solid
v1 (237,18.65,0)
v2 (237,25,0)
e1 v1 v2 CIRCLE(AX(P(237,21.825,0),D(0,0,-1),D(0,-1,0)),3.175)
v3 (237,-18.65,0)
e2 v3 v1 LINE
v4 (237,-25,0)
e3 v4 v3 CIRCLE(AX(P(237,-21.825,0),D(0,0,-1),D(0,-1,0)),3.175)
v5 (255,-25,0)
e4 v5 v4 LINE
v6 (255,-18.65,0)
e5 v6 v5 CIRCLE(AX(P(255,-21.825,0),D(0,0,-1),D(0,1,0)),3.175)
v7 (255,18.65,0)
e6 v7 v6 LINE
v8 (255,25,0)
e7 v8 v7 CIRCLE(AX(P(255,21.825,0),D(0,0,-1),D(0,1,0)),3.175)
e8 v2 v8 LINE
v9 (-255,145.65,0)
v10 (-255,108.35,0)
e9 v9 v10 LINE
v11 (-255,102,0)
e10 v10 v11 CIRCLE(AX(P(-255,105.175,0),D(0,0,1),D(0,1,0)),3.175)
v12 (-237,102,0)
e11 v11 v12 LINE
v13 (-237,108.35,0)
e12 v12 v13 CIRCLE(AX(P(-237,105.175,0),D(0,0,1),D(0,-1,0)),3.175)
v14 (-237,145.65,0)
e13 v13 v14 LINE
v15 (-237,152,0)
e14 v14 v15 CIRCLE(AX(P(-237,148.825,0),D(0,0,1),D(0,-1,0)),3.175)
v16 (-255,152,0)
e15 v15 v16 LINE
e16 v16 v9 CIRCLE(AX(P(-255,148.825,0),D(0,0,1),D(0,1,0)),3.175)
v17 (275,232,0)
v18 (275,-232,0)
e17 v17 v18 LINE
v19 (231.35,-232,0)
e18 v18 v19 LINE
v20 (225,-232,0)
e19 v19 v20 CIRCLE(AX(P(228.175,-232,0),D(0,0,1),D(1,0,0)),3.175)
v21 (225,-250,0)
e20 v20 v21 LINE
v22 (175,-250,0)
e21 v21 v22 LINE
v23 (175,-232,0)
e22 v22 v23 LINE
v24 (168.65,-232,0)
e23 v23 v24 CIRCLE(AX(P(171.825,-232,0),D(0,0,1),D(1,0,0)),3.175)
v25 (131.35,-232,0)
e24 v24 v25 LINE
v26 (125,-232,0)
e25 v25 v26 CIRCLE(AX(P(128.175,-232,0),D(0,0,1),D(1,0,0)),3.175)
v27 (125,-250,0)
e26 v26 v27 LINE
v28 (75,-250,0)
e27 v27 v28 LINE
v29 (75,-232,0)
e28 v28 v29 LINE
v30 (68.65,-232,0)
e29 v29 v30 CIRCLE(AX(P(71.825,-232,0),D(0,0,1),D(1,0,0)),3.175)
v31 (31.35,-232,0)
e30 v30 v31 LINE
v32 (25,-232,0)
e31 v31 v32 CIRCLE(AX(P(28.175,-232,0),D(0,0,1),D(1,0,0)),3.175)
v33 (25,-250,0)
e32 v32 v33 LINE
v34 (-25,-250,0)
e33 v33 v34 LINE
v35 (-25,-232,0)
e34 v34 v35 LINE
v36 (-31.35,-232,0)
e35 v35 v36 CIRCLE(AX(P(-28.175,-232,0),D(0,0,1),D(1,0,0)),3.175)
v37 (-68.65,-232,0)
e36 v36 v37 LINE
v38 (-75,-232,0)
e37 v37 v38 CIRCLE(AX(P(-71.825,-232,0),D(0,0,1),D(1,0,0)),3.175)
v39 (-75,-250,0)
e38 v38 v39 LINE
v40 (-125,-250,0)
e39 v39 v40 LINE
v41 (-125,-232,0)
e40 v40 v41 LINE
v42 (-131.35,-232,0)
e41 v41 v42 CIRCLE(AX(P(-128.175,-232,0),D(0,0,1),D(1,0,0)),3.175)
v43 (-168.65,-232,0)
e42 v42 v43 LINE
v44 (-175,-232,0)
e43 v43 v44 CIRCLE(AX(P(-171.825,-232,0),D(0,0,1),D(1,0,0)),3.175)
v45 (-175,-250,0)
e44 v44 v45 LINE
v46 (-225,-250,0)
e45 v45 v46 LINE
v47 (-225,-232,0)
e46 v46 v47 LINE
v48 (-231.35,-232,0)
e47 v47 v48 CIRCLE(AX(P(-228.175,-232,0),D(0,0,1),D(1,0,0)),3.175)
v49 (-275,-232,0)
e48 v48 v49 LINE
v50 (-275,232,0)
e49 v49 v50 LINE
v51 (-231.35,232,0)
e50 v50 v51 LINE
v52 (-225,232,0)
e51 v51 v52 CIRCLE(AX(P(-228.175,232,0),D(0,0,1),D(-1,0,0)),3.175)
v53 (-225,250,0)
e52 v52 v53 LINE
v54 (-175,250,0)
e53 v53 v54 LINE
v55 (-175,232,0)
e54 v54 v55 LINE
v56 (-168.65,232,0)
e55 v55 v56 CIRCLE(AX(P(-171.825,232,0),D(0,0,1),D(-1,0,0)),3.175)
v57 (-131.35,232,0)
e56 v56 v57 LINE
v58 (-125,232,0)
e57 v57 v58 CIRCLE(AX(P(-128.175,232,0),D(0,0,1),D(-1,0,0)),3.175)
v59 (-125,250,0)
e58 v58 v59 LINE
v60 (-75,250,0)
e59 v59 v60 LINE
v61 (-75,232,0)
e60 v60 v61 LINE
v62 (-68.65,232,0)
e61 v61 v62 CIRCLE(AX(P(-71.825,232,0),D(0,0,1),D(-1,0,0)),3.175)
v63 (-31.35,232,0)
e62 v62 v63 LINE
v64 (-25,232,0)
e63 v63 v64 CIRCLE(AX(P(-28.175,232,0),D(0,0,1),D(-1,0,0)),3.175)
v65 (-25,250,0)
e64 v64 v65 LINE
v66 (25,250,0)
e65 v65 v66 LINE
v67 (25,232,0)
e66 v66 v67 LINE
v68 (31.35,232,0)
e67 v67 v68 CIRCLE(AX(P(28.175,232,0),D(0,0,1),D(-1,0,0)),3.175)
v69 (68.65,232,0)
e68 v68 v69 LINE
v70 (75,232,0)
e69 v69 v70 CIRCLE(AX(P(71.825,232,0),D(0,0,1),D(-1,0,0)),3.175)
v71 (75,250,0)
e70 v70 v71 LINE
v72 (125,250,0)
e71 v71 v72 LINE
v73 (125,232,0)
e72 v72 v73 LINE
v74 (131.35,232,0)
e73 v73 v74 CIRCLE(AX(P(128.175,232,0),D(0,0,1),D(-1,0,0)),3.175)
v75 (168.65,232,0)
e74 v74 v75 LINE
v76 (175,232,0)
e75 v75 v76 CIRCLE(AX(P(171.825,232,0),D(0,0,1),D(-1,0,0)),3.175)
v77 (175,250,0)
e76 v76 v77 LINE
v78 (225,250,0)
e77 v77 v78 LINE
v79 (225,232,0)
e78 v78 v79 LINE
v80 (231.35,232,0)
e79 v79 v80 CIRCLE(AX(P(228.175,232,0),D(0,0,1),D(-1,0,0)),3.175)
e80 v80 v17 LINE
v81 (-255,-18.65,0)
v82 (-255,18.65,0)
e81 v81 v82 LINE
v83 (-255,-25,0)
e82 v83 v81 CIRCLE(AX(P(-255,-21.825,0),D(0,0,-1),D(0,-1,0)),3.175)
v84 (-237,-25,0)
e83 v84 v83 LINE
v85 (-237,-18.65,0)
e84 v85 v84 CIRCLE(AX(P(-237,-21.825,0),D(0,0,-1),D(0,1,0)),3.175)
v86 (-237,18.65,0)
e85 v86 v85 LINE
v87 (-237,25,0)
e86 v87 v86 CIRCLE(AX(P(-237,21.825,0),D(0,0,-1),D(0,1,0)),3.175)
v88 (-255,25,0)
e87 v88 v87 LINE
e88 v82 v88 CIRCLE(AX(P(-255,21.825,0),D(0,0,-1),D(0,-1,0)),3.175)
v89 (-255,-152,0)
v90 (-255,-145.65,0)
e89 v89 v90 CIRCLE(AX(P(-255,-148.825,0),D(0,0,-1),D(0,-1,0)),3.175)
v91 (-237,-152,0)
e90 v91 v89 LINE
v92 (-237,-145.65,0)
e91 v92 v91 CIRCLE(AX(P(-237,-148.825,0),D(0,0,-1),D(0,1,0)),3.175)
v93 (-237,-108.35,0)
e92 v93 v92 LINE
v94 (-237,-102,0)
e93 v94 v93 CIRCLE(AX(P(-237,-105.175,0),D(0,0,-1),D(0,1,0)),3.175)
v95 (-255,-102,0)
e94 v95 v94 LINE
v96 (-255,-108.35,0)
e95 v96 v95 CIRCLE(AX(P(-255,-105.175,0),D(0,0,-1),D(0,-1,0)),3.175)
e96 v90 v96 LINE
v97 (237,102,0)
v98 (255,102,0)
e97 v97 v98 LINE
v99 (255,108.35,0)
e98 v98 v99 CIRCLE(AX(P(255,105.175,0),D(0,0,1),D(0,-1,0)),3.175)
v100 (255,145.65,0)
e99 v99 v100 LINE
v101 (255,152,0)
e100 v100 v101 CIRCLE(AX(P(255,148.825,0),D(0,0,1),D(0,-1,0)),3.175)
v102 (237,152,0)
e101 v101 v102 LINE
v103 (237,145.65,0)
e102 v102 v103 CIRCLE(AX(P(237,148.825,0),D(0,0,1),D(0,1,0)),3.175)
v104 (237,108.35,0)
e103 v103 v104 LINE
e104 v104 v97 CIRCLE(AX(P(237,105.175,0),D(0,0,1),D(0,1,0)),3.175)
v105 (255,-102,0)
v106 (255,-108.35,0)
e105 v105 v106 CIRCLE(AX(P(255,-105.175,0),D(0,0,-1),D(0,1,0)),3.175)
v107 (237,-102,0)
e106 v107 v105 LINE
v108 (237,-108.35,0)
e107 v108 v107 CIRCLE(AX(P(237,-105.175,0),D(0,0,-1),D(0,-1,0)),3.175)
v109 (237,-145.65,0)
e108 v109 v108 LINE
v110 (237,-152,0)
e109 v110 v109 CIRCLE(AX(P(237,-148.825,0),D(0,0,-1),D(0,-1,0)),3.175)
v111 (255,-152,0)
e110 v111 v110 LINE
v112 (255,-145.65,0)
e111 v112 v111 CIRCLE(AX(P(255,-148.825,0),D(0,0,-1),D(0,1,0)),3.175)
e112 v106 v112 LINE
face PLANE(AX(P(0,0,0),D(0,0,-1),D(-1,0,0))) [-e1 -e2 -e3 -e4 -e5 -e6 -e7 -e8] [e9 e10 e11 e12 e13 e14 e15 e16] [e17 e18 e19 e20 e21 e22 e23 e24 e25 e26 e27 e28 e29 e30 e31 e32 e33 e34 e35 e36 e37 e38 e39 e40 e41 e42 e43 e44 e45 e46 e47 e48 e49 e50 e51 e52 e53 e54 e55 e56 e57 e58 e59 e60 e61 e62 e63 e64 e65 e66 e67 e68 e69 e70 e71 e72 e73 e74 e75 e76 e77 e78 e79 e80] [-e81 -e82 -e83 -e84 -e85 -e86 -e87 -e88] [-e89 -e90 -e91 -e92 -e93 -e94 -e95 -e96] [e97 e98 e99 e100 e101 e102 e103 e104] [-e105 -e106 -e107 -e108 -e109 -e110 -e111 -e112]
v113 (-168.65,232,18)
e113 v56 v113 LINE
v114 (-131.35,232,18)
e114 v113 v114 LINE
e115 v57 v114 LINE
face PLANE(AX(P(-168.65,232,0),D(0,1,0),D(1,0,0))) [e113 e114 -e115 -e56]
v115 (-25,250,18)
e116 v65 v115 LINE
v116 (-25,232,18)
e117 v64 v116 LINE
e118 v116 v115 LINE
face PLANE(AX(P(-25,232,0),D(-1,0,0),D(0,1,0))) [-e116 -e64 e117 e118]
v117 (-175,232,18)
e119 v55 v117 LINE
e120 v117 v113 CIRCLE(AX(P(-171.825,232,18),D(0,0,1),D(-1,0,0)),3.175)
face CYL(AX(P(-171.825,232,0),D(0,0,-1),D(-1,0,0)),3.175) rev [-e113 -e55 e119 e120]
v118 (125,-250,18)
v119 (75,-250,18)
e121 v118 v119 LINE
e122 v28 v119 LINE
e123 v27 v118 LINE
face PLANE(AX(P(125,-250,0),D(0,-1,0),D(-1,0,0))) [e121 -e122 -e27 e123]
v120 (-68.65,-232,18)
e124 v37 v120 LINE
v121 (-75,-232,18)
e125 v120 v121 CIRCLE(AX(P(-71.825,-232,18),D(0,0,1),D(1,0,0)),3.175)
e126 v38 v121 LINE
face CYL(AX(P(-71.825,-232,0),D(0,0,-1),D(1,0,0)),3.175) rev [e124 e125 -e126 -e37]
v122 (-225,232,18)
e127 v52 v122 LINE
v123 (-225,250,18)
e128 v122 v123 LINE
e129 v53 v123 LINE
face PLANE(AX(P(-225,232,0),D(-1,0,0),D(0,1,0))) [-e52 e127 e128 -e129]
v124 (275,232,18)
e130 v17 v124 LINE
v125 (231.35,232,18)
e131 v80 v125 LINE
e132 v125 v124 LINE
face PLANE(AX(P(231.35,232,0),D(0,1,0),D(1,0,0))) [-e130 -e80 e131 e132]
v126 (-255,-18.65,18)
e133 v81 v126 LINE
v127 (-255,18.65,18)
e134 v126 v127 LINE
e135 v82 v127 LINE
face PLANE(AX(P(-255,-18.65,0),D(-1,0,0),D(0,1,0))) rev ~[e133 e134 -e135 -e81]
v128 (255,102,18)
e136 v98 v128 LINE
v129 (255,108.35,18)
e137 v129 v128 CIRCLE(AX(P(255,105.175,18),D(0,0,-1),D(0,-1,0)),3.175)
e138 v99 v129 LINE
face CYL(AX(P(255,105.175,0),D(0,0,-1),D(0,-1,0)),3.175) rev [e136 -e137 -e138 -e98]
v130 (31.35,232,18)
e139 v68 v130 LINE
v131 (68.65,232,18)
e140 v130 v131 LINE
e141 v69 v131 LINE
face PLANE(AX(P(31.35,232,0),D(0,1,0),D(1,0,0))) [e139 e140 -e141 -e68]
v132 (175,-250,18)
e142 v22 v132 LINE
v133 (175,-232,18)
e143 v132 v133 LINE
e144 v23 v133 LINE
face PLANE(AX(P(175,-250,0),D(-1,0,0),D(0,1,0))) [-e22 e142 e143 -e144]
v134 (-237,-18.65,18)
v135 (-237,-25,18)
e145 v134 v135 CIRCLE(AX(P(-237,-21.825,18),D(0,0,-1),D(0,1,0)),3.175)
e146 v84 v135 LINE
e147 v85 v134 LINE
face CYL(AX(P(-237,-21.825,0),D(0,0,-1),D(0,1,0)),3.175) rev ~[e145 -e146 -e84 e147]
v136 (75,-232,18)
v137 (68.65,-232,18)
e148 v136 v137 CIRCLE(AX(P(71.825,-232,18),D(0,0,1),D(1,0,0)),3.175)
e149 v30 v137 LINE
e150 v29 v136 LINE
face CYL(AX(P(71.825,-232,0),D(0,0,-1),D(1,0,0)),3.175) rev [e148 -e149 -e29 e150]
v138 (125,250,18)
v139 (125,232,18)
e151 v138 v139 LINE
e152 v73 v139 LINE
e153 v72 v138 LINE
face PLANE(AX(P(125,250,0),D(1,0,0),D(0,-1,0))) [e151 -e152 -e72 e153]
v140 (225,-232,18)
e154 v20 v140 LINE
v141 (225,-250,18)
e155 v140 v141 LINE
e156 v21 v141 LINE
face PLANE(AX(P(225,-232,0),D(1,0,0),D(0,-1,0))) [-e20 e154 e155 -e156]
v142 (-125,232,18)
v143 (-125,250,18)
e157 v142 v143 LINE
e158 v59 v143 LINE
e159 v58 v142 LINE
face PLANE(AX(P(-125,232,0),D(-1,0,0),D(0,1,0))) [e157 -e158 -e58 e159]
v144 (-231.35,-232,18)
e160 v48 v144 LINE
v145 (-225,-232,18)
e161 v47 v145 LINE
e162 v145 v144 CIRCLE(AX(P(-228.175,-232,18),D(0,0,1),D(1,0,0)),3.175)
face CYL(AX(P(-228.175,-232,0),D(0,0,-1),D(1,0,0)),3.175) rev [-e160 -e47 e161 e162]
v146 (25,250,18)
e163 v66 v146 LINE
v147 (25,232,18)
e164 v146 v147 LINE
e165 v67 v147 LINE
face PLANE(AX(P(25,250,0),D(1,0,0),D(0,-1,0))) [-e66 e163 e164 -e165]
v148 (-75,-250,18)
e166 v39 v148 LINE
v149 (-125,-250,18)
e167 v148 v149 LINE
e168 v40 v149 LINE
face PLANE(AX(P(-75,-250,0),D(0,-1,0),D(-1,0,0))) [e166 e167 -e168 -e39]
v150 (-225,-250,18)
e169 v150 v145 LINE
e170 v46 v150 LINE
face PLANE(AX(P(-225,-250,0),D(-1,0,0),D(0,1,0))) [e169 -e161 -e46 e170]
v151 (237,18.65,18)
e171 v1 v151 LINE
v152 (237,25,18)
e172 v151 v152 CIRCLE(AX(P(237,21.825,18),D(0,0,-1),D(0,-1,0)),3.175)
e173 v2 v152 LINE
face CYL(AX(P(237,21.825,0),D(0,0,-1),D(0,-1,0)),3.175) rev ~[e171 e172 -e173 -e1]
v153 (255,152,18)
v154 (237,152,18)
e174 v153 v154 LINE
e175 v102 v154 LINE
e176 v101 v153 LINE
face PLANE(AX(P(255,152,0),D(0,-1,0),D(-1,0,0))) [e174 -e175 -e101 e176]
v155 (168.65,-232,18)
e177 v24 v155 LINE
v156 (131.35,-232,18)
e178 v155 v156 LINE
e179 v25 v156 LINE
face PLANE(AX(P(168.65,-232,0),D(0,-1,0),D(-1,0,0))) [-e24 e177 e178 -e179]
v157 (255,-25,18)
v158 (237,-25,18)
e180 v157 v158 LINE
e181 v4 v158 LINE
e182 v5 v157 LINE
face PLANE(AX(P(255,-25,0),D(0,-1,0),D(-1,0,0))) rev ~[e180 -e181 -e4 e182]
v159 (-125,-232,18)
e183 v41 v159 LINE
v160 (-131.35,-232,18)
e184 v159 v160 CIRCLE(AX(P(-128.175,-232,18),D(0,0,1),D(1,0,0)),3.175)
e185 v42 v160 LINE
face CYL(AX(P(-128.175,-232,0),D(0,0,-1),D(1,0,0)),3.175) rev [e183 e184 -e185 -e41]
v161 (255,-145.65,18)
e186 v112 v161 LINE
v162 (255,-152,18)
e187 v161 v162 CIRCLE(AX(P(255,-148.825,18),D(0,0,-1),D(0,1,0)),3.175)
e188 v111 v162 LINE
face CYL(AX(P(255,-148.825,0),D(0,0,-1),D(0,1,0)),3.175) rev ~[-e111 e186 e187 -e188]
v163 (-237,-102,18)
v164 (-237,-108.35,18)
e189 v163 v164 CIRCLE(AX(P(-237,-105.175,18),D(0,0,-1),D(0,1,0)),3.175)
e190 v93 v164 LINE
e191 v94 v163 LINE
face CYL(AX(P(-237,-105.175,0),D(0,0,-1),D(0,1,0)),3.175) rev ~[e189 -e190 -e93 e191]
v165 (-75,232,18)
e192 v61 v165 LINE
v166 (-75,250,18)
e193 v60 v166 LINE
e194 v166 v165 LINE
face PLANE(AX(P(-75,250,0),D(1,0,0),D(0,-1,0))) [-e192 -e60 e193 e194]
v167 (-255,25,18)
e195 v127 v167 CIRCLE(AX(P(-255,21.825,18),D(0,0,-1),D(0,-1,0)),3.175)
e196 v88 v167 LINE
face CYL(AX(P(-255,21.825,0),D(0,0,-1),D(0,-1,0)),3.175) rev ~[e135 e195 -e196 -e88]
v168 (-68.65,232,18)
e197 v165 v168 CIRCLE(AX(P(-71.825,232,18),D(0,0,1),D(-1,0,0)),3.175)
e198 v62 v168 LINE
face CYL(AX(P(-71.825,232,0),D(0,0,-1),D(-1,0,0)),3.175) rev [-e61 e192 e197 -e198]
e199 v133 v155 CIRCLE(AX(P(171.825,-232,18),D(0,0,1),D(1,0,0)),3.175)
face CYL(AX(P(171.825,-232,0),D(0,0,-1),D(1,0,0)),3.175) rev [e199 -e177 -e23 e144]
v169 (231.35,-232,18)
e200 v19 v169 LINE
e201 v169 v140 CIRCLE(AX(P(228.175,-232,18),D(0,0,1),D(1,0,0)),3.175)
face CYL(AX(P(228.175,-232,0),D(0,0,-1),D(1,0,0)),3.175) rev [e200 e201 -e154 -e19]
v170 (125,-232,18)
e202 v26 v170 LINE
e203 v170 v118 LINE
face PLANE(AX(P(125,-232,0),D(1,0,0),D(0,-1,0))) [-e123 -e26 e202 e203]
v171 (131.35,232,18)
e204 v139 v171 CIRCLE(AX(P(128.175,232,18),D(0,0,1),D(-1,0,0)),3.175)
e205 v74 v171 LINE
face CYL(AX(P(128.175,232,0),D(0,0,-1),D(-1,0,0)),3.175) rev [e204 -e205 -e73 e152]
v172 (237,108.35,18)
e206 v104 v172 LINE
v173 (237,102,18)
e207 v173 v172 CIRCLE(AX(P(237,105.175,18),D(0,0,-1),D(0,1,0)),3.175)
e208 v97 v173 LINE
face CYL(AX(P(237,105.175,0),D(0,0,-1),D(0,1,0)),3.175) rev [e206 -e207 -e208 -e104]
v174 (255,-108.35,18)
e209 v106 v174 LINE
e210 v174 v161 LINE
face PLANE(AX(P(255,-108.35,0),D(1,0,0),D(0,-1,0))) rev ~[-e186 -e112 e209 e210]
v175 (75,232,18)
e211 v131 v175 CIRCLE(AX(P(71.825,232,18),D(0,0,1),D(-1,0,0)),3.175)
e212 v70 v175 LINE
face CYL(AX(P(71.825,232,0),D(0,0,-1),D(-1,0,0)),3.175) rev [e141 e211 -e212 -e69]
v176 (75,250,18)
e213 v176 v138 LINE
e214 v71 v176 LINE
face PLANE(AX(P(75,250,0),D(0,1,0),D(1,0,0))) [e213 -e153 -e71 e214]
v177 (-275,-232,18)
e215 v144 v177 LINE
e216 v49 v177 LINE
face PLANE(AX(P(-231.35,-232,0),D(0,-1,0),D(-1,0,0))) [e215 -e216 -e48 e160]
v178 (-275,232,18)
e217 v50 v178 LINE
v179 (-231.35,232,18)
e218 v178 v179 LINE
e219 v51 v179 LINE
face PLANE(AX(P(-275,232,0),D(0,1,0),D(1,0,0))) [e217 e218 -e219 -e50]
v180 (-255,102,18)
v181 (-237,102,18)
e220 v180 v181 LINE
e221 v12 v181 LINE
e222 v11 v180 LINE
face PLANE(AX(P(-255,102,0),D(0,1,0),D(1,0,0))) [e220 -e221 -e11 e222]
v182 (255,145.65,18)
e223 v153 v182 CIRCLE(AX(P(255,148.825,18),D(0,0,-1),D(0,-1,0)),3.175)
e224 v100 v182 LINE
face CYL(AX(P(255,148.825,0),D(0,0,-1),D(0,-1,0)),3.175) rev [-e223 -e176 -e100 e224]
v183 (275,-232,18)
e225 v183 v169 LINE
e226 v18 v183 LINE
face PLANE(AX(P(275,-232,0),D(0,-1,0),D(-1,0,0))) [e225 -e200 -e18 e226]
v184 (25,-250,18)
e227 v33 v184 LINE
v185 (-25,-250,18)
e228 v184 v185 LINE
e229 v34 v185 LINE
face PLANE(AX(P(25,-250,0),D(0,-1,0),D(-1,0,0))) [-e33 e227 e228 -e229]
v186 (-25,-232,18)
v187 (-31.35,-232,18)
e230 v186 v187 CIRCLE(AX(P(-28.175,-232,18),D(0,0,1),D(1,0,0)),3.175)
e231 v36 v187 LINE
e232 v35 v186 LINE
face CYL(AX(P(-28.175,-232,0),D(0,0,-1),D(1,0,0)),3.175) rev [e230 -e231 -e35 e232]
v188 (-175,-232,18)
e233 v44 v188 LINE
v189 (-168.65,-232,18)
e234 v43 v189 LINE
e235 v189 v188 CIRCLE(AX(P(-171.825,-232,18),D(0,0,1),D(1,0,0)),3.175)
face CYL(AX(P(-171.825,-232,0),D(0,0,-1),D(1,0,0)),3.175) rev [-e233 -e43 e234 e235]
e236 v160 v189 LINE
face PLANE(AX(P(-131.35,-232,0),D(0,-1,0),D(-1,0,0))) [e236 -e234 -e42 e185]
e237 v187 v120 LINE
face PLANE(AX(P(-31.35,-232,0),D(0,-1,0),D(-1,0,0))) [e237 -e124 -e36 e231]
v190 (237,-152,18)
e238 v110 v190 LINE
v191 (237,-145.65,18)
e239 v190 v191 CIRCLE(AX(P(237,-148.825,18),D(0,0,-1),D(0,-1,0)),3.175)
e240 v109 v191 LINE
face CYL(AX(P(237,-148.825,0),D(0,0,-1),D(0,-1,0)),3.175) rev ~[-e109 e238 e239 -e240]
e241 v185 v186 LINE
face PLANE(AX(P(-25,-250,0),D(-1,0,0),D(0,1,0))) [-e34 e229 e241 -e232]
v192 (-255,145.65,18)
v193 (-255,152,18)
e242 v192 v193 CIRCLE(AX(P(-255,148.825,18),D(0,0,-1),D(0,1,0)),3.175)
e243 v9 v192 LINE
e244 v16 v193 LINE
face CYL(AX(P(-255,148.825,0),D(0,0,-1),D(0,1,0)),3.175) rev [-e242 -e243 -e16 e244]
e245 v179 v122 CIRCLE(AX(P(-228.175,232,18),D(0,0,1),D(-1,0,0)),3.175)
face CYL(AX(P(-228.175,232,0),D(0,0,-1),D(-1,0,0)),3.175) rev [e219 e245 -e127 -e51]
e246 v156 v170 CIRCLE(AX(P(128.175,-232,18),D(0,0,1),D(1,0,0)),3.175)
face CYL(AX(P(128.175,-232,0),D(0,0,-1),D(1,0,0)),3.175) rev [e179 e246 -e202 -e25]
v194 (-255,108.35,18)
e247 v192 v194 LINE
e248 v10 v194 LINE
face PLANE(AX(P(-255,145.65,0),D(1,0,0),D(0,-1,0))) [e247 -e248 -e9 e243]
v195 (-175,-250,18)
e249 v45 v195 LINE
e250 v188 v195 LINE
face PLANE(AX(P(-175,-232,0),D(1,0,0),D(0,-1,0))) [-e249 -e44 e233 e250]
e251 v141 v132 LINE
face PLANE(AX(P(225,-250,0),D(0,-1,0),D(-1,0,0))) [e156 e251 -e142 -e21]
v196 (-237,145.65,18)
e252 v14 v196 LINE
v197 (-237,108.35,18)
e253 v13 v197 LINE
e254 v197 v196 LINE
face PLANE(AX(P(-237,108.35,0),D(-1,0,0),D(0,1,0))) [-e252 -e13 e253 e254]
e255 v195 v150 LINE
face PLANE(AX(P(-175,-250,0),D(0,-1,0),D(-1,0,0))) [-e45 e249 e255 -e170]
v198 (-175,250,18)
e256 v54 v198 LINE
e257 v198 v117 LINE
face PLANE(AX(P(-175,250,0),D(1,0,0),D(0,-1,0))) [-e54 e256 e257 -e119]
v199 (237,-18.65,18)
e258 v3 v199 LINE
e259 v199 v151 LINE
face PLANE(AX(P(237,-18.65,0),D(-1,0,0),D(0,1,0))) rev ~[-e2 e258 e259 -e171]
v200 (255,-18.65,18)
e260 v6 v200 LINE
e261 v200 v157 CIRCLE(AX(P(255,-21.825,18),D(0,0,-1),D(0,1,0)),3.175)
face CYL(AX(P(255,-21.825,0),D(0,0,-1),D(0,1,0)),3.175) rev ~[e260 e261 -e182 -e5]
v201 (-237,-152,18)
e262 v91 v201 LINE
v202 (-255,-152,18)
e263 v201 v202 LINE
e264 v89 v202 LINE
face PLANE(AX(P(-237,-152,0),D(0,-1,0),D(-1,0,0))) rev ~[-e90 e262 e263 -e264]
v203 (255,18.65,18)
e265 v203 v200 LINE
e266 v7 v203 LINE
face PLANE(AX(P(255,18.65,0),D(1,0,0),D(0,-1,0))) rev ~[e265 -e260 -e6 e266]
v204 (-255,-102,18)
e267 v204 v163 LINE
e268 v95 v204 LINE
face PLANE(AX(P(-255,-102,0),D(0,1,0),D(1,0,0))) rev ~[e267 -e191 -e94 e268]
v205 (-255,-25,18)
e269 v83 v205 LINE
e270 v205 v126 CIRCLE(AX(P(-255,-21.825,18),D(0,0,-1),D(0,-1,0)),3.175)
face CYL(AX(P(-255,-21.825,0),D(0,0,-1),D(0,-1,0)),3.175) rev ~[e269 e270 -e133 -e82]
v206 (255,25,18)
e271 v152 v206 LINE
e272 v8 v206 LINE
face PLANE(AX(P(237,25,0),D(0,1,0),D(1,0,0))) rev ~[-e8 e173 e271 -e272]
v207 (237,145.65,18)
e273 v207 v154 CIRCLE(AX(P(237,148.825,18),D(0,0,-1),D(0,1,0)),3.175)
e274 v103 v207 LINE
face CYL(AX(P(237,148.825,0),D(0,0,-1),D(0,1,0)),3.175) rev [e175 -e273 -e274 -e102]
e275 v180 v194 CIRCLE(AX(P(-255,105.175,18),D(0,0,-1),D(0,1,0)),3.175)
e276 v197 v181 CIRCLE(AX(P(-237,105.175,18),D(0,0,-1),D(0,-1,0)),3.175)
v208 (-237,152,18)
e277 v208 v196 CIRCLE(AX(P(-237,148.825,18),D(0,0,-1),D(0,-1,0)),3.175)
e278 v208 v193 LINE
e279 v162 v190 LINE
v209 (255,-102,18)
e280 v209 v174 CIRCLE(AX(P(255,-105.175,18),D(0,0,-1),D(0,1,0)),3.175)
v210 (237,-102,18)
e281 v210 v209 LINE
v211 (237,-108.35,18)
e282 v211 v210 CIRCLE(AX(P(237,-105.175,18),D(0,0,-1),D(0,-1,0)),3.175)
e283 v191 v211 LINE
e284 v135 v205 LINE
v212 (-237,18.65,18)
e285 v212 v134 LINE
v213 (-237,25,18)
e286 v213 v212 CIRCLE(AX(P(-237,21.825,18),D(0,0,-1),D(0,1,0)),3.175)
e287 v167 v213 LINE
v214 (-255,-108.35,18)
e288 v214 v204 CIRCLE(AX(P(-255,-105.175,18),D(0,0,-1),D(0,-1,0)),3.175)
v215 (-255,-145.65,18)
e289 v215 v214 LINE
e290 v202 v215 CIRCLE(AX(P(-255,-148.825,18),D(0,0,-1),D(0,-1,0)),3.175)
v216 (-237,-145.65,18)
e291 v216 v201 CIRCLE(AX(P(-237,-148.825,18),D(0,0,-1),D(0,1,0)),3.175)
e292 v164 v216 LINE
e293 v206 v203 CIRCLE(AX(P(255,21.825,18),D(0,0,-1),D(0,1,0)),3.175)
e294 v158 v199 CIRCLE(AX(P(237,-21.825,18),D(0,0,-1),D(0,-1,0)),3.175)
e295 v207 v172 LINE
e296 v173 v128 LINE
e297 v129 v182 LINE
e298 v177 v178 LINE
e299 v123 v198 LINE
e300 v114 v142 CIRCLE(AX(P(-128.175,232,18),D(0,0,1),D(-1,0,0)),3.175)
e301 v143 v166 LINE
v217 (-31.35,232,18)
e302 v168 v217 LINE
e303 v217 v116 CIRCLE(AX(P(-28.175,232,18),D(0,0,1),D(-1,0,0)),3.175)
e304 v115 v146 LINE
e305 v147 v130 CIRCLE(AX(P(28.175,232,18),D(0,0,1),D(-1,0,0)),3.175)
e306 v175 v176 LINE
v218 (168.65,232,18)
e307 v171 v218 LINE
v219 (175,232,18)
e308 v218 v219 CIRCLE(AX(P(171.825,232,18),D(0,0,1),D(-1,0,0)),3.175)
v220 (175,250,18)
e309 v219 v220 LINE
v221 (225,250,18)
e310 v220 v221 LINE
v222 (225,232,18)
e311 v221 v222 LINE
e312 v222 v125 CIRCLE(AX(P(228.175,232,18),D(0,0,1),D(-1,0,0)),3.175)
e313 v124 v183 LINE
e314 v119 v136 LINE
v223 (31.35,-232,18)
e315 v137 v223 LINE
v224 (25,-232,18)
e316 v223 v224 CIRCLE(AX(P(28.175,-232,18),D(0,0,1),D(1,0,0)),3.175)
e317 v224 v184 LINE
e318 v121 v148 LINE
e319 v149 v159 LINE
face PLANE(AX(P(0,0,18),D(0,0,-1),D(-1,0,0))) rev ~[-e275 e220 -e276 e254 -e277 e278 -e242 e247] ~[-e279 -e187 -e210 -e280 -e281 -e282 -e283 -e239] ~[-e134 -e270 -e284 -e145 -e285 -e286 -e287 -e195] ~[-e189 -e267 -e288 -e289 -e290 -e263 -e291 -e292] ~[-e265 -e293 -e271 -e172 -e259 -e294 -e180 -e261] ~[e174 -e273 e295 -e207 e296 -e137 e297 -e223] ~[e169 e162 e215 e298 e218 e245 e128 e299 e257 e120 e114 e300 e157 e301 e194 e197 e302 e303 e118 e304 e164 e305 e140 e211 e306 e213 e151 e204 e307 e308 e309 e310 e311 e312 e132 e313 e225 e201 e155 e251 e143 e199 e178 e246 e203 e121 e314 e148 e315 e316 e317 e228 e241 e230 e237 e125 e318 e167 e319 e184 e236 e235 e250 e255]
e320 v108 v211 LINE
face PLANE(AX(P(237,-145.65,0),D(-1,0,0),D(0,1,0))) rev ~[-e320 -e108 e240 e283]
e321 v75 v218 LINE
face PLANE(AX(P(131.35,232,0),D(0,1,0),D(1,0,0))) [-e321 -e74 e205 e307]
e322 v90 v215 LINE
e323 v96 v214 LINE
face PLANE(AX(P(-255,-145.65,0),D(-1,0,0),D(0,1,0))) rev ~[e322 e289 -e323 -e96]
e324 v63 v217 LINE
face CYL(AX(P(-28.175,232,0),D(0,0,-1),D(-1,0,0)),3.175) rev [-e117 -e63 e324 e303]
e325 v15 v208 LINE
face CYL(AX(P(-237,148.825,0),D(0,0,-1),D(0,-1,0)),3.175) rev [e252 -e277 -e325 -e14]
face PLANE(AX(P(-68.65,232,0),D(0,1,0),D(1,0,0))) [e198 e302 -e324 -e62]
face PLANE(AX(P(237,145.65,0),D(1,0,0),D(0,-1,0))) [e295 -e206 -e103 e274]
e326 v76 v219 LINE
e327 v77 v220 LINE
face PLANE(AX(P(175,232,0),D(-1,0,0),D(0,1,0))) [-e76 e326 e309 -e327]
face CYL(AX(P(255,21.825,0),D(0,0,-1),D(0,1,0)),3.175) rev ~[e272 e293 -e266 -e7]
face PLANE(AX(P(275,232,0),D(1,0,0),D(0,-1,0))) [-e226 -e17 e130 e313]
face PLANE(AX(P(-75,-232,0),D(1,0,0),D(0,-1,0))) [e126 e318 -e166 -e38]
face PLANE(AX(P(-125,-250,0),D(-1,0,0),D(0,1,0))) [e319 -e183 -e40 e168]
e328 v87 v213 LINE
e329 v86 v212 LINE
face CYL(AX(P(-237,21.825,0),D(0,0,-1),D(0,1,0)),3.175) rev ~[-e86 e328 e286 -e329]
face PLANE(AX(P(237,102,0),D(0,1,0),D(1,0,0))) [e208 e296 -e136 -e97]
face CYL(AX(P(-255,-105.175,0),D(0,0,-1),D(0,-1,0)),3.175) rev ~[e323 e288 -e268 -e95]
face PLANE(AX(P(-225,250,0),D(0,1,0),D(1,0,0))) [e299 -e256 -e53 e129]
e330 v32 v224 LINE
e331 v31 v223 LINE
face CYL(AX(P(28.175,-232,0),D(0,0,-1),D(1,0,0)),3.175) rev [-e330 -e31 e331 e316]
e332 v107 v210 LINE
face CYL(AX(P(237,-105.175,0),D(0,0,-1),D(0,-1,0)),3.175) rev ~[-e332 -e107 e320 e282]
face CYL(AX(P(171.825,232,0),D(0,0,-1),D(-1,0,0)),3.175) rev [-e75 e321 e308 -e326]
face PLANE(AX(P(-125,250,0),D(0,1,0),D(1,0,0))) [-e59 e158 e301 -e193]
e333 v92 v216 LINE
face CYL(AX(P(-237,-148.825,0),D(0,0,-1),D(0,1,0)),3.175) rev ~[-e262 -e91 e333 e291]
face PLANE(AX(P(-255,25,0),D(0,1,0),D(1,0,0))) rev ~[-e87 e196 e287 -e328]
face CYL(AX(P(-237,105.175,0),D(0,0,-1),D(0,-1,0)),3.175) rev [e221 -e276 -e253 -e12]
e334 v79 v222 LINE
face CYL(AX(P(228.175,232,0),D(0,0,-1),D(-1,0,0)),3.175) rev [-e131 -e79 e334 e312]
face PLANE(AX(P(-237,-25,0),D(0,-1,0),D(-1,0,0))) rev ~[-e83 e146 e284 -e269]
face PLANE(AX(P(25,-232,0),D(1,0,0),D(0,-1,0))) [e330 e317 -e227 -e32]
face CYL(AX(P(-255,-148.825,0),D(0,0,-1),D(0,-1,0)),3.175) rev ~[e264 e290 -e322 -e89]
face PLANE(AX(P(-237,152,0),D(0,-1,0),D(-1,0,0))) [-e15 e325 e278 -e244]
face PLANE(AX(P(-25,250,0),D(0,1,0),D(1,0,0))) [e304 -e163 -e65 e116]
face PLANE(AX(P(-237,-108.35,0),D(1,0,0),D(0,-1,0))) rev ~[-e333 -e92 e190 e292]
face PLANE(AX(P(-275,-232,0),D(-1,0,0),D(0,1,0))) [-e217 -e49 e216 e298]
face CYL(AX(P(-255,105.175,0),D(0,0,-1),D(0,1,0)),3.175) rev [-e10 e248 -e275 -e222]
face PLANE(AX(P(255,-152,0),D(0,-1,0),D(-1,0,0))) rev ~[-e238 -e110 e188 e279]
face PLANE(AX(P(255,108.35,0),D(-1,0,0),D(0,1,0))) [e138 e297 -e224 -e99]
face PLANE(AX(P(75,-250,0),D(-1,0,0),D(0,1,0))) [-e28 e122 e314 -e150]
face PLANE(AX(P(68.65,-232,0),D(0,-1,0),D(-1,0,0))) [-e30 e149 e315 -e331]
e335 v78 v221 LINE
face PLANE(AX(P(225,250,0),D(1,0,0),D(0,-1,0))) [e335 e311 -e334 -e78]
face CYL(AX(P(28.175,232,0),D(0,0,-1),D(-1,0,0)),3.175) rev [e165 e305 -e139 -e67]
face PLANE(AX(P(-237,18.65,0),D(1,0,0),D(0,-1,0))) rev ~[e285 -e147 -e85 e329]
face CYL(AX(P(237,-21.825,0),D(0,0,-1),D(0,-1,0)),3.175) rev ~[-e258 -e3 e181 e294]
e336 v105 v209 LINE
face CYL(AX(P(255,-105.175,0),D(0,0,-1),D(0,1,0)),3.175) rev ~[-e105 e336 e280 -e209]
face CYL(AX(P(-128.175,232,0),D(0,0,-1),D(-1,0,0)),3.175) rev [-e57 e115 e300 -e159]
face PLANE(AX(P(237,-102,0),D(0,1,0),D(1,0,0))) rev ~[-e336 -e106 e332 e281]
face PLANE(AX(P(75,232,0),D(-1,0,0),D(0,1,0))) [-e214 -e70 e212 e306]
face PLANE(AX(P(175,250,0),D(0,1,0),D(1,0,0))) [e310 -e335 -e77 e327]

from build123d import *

# Parameters (mm, degrees)
ESTRUSIONE_ESTRUSIONE1_DEPTH = 18
TAGLIO_ESTRUSIONE1_DEPTH     = 47
TAGLIO_ESTRUSIONE2_DEPTH     = 32
TAGLIO_ESTRUSIONE3_DEPTH     = 50
TAGLIO_ESTRUSIONE4_DEPTH     = 44
TAGLIO_ESTRUSIONE5_DEPTH     = 38
TAGLIO_ESTRUSIONE6_DEPTH     = 44


with BuildPart() as part:
    # Model → Estrusione-Estrusione1 (new body)
    with BuildSketch(Plane.XY):
        with BuildLine():
            Line((-275, -232), (-275, 232))
            Line((-275, 232), (-231.35, 232))
            ThreePointArc((-231.35, 232), (-228.175, 228.825), (-225, 232))
            Line((-225, 232), (-225, 250))
            Line((-225, 250), (-175, 250))
            Line((-175, 250), (-175, 232))
            ThreePointArc((-175, 232), (-171.825, 228.825), (-168.65, 232))
            Line((-168.65, 232), (-131.35, 232))
            ThreePointArc((-131.35, 232), (-128.175, 228.825), (-125, 232))
            Line((-125, 232), (-125, 250))
            Line((-125, 250), (-75, 250))
            Line((-75, 250), (-75, 232))
            ThreePointArc((-75, 232), (-71.825, 228.825), (-68.65, 232))
            Line((-68.65, 232), (-31.35, 232))
            ThreePointArc((-31.35, 232), (-28.175, 228.825), (-25, 232))
            Line((-25, 232), (-25, 250))
            Line((-25, 250), (25, 250))
            Line((25, 250), (25, 232))
            ThreePointArc((25, 232), (28.175, 228.825), (31.35, 232))
            Line((31.35, 232), (68.65, 232))
            ThreePointArc((68.65, 232), (71.825, 228.825), (75, 232))
            Line((75, 232), (75, 250))
            Line((75, 250), (125, 250))
            Line((125, 250), (125, 232))
            ThreePointArc((125, 232), (128.175, 228.825), (131.35, 232))
            Line((131.35, 232), (168.65, 232))
            ThreePointArc((168.65, 232), (171.825, 228.825), (175, 232))
            Line((175, 232), (175, 250))
            Line((175, 250), (225, 250))
            Line((225, 250), (225, 232))
            ThreePointArc((225, 232), (228.175, 228.825), (231.35, 232))
            Line((231.35, 232), (275, 232))
            Line((275, 232), (275, -232))
            Line((275, -232), (231.35, -232))
            ThreePointArc((231.35, -232), (228.175, -228.825), (225, -232))
            Line((225, -232), (225, -250))
            Line((225, -250), (175, -250))
            Line((175, -250), (175, -232))
            ThreePointArc((175, -232), (171.825, -228.825), (168.65, -232))
            Line((168.65, -232), (131.35, -232))
            ThreePointArc((131.35, -232), (128.175, -228.825), (125, -232))
            Line((125, -232), (125, -250))
            Line((125, -250), (75, -250))
            Line((75, -250), (75, -232))
            ThreePointArc((75, -232), (71.825, -228.825), (68.65, -232))
            Line((68.65, -232), (31.35, -232))
            ThreePointArc((31.35, -232), (28.175, -228.825), (25, -232))
            Line((25, -232), (25, -250))
            Line((25, -250), (-25, -250))
            Line((-25, -250), (-25, -232))
            ThreePointArc((-25, -232), (-28.175, -228.825), (-31.35, -232))
            Line((-31.35, -232), (-68.65, -232))
            ThreePointArc((-68.65, -232), (-71.825, -228.825), (-75, -232))
            Line((-75, -232), (-75, -250))
            Line((-75, -250), (-125, -250))
            Line((-125, -250), (-125, -232))
            ThreePointArc((-125, -232), (-128.175, -228.825), (-131.35, -232))
            Line((-131.35, -232), (-168.65, -232))
            ThreePointArc((-168.65, -232), (-171.825, -228.825), (-175, -232))
            Line((-175, -232), (-175, -250))
            Line((-175, -250), (-225, -250))
            Line((-225, -250), (-225, -232))
            ThreePointArc((-225, -232), (-228.175, -228.825), (-231.35, -232))
            Line((-231.35, -232), (-275, -232))
        make_face()
    extrude(amount=ESTRUSIONE_ESTRUSIONE1_DEPTH)

    # Model<3> → Taglio-Estrusione1 (cut)
    with BuildSketch(Plane.XY):
        with BuildLine():
            Line((-255, 145.65), (-255, 108.35))
            ThreePointArc((-255, 108.35), (-258.175, 105.175), (-255, 102))
            Line((-255, 102), (-237, 102))
            ThreePointArc((-237, 102), (-233.825, 105.175), (-237, 108.35))
            Line((-237, 108.35), (-237, 145.65))
            ThreePointArc((-237, 145.65), (-233.825, 148.825), (-237, 152))
            Line((-237, 152), (-255, 152))
            ThreePointArc((-255, 152), (-258.175, 148.825), (-255, 145.65))
        make_face()
    extrude(amount=TAGLIO_ESTRUSIONE1_DEPTH, mode=Mode.SUBTRACT)

    # Model<4> → Taglio-Estrusione2 (cut)
    with BuildSketch(Plane.XY):
        with BuildLine():
            Line((-255, -18.65), (-255, 18.65))
            ThreePointArc((-255, 18.65), (-258.175, 21.825), (-255, 25))
            Line((-255, 25), (-237, 25))
            ThreePointArc((-237, 25), (-233.825, 21.825), (-237, 18.65))
            Line((-237, 18.65), (-237, -18.65))
            ThreePointArc((-237, -18.65), (-233.825, -21.825), (-237, -25))
            Line((-237, -25), (-255, -25))
            ThreePointArc((-255, -25), (-258.175, -21.825), (-255, -18.65))
        make_face()
    extrude(amount=TAGLIO_ESTRUSIONE2_DEPTH, mode=Mode.SUBTRACT)

    # Model<5> → Taglio-Estrusione3 (cut)
    with BuildSketch(Plane.XY):
        with BuildLine():
            Line((-255, -145.65), (-255, -108.35))
            ThreePointArc((-255, -108.35), (-258.175, -105.175), (-255, -102))
            Line((-255, -102), (-237, -102))
            ThreePointArc((-237, -102), (-233.825, -105.175), (-237, -108.35))
            Line((-237, -108.35), (-237, -145.65))
            ThreePointArc((-237, -145.65), (-233.825, -148.825), (-237, -152))
            Line((-237, -152), (-255, -152))
            ThreePointArc((-255, -152), (-258.175, -148.825), (-255, -145.65))
        make_face()
    extrude(amount=TAGLIO_ESTRUSIONE3_DEPTH, mode=Mode.SUBTRACT)

    # Model<6> → Taglio-Estrusione4 (cut)
    with BuildSketch(Plane.XY):
        with BuildLine():
            Line((237, 145.65), (237, 108.35))
            ThreePointArc((237, 108.35), (233.825, 105.175), (237, 102))
            Line((237, 102), (255, 102))
            ThreePointArc((255, 102), (258.175, 105.175), (255, 108.35))
            Line((255, 108.35), (255, 145.65))
            ThreePointArc((255, 145.65), (258.175, 148.825), (255, 152))
            Line((255, 152), (237, 152))
            ThreePointArc((237, 152), (233.825, 148.825), (237, 145.65))
        make_face()
    extrude(amount=TAGLIO_ESTRUSIONE4_DEPTH, mode=Mode.SUBTRACT)

    # Model<7> → Taglio-Estrusione5 (cut)
    with BuildSketch(Plane.XY):
        with BuildLine():
            Line((237, -18.65), (237, 18.65))
            ThreePointArc((237, 18.65), (233.825, 21.825), (237, 25))
            Line((237, 25), (255, 25))
            ThreePointArc((255, 25), (258.175, 21.825), (255, 18.65))
            Line((255, 18.65), (255, -18.65))
            ThreePointArc((255, -18.65), (258.175, -21.825), (255, -25))
            Line((255, -25), (237, -25))
            ThreePointArc((237, -25), (233.825, -21.825), (237, -18.65))
        make_face()
    extrude(amount=TAGLIO_ESTRUSIONE5_DEPTH, mode=Mode.SUBTRACT)

    # Model<10> → Taglio-Estrusione6 (cut)
    with BuildSketch(Plane.XY):
        with BuildLine():
            Line((237, -145.65), (237, -108.35))
            ThreePointArc((237, -108.35), (233.825, -105.175), (237, -102))
            Line((237, -102), (255, -102))
            ThreePointArc((255, -102), (258.175, -105.175), (255, -108.35))
            Line((255, -108.35), (255, -145.65))
            ThreePointArc((255, -145.65), (258.175, -148.825), (255, -152))
            Line((255, -152), (237, -152))
            ThreePointArc((237, -152), (233.825, -148.825), (237, -145.65))
        make_face()
    extrude(amount=TAGLIO_ESTRUSIONE6_DEPTH, mode=Mode.SUBTRACT)


solid = part.part
